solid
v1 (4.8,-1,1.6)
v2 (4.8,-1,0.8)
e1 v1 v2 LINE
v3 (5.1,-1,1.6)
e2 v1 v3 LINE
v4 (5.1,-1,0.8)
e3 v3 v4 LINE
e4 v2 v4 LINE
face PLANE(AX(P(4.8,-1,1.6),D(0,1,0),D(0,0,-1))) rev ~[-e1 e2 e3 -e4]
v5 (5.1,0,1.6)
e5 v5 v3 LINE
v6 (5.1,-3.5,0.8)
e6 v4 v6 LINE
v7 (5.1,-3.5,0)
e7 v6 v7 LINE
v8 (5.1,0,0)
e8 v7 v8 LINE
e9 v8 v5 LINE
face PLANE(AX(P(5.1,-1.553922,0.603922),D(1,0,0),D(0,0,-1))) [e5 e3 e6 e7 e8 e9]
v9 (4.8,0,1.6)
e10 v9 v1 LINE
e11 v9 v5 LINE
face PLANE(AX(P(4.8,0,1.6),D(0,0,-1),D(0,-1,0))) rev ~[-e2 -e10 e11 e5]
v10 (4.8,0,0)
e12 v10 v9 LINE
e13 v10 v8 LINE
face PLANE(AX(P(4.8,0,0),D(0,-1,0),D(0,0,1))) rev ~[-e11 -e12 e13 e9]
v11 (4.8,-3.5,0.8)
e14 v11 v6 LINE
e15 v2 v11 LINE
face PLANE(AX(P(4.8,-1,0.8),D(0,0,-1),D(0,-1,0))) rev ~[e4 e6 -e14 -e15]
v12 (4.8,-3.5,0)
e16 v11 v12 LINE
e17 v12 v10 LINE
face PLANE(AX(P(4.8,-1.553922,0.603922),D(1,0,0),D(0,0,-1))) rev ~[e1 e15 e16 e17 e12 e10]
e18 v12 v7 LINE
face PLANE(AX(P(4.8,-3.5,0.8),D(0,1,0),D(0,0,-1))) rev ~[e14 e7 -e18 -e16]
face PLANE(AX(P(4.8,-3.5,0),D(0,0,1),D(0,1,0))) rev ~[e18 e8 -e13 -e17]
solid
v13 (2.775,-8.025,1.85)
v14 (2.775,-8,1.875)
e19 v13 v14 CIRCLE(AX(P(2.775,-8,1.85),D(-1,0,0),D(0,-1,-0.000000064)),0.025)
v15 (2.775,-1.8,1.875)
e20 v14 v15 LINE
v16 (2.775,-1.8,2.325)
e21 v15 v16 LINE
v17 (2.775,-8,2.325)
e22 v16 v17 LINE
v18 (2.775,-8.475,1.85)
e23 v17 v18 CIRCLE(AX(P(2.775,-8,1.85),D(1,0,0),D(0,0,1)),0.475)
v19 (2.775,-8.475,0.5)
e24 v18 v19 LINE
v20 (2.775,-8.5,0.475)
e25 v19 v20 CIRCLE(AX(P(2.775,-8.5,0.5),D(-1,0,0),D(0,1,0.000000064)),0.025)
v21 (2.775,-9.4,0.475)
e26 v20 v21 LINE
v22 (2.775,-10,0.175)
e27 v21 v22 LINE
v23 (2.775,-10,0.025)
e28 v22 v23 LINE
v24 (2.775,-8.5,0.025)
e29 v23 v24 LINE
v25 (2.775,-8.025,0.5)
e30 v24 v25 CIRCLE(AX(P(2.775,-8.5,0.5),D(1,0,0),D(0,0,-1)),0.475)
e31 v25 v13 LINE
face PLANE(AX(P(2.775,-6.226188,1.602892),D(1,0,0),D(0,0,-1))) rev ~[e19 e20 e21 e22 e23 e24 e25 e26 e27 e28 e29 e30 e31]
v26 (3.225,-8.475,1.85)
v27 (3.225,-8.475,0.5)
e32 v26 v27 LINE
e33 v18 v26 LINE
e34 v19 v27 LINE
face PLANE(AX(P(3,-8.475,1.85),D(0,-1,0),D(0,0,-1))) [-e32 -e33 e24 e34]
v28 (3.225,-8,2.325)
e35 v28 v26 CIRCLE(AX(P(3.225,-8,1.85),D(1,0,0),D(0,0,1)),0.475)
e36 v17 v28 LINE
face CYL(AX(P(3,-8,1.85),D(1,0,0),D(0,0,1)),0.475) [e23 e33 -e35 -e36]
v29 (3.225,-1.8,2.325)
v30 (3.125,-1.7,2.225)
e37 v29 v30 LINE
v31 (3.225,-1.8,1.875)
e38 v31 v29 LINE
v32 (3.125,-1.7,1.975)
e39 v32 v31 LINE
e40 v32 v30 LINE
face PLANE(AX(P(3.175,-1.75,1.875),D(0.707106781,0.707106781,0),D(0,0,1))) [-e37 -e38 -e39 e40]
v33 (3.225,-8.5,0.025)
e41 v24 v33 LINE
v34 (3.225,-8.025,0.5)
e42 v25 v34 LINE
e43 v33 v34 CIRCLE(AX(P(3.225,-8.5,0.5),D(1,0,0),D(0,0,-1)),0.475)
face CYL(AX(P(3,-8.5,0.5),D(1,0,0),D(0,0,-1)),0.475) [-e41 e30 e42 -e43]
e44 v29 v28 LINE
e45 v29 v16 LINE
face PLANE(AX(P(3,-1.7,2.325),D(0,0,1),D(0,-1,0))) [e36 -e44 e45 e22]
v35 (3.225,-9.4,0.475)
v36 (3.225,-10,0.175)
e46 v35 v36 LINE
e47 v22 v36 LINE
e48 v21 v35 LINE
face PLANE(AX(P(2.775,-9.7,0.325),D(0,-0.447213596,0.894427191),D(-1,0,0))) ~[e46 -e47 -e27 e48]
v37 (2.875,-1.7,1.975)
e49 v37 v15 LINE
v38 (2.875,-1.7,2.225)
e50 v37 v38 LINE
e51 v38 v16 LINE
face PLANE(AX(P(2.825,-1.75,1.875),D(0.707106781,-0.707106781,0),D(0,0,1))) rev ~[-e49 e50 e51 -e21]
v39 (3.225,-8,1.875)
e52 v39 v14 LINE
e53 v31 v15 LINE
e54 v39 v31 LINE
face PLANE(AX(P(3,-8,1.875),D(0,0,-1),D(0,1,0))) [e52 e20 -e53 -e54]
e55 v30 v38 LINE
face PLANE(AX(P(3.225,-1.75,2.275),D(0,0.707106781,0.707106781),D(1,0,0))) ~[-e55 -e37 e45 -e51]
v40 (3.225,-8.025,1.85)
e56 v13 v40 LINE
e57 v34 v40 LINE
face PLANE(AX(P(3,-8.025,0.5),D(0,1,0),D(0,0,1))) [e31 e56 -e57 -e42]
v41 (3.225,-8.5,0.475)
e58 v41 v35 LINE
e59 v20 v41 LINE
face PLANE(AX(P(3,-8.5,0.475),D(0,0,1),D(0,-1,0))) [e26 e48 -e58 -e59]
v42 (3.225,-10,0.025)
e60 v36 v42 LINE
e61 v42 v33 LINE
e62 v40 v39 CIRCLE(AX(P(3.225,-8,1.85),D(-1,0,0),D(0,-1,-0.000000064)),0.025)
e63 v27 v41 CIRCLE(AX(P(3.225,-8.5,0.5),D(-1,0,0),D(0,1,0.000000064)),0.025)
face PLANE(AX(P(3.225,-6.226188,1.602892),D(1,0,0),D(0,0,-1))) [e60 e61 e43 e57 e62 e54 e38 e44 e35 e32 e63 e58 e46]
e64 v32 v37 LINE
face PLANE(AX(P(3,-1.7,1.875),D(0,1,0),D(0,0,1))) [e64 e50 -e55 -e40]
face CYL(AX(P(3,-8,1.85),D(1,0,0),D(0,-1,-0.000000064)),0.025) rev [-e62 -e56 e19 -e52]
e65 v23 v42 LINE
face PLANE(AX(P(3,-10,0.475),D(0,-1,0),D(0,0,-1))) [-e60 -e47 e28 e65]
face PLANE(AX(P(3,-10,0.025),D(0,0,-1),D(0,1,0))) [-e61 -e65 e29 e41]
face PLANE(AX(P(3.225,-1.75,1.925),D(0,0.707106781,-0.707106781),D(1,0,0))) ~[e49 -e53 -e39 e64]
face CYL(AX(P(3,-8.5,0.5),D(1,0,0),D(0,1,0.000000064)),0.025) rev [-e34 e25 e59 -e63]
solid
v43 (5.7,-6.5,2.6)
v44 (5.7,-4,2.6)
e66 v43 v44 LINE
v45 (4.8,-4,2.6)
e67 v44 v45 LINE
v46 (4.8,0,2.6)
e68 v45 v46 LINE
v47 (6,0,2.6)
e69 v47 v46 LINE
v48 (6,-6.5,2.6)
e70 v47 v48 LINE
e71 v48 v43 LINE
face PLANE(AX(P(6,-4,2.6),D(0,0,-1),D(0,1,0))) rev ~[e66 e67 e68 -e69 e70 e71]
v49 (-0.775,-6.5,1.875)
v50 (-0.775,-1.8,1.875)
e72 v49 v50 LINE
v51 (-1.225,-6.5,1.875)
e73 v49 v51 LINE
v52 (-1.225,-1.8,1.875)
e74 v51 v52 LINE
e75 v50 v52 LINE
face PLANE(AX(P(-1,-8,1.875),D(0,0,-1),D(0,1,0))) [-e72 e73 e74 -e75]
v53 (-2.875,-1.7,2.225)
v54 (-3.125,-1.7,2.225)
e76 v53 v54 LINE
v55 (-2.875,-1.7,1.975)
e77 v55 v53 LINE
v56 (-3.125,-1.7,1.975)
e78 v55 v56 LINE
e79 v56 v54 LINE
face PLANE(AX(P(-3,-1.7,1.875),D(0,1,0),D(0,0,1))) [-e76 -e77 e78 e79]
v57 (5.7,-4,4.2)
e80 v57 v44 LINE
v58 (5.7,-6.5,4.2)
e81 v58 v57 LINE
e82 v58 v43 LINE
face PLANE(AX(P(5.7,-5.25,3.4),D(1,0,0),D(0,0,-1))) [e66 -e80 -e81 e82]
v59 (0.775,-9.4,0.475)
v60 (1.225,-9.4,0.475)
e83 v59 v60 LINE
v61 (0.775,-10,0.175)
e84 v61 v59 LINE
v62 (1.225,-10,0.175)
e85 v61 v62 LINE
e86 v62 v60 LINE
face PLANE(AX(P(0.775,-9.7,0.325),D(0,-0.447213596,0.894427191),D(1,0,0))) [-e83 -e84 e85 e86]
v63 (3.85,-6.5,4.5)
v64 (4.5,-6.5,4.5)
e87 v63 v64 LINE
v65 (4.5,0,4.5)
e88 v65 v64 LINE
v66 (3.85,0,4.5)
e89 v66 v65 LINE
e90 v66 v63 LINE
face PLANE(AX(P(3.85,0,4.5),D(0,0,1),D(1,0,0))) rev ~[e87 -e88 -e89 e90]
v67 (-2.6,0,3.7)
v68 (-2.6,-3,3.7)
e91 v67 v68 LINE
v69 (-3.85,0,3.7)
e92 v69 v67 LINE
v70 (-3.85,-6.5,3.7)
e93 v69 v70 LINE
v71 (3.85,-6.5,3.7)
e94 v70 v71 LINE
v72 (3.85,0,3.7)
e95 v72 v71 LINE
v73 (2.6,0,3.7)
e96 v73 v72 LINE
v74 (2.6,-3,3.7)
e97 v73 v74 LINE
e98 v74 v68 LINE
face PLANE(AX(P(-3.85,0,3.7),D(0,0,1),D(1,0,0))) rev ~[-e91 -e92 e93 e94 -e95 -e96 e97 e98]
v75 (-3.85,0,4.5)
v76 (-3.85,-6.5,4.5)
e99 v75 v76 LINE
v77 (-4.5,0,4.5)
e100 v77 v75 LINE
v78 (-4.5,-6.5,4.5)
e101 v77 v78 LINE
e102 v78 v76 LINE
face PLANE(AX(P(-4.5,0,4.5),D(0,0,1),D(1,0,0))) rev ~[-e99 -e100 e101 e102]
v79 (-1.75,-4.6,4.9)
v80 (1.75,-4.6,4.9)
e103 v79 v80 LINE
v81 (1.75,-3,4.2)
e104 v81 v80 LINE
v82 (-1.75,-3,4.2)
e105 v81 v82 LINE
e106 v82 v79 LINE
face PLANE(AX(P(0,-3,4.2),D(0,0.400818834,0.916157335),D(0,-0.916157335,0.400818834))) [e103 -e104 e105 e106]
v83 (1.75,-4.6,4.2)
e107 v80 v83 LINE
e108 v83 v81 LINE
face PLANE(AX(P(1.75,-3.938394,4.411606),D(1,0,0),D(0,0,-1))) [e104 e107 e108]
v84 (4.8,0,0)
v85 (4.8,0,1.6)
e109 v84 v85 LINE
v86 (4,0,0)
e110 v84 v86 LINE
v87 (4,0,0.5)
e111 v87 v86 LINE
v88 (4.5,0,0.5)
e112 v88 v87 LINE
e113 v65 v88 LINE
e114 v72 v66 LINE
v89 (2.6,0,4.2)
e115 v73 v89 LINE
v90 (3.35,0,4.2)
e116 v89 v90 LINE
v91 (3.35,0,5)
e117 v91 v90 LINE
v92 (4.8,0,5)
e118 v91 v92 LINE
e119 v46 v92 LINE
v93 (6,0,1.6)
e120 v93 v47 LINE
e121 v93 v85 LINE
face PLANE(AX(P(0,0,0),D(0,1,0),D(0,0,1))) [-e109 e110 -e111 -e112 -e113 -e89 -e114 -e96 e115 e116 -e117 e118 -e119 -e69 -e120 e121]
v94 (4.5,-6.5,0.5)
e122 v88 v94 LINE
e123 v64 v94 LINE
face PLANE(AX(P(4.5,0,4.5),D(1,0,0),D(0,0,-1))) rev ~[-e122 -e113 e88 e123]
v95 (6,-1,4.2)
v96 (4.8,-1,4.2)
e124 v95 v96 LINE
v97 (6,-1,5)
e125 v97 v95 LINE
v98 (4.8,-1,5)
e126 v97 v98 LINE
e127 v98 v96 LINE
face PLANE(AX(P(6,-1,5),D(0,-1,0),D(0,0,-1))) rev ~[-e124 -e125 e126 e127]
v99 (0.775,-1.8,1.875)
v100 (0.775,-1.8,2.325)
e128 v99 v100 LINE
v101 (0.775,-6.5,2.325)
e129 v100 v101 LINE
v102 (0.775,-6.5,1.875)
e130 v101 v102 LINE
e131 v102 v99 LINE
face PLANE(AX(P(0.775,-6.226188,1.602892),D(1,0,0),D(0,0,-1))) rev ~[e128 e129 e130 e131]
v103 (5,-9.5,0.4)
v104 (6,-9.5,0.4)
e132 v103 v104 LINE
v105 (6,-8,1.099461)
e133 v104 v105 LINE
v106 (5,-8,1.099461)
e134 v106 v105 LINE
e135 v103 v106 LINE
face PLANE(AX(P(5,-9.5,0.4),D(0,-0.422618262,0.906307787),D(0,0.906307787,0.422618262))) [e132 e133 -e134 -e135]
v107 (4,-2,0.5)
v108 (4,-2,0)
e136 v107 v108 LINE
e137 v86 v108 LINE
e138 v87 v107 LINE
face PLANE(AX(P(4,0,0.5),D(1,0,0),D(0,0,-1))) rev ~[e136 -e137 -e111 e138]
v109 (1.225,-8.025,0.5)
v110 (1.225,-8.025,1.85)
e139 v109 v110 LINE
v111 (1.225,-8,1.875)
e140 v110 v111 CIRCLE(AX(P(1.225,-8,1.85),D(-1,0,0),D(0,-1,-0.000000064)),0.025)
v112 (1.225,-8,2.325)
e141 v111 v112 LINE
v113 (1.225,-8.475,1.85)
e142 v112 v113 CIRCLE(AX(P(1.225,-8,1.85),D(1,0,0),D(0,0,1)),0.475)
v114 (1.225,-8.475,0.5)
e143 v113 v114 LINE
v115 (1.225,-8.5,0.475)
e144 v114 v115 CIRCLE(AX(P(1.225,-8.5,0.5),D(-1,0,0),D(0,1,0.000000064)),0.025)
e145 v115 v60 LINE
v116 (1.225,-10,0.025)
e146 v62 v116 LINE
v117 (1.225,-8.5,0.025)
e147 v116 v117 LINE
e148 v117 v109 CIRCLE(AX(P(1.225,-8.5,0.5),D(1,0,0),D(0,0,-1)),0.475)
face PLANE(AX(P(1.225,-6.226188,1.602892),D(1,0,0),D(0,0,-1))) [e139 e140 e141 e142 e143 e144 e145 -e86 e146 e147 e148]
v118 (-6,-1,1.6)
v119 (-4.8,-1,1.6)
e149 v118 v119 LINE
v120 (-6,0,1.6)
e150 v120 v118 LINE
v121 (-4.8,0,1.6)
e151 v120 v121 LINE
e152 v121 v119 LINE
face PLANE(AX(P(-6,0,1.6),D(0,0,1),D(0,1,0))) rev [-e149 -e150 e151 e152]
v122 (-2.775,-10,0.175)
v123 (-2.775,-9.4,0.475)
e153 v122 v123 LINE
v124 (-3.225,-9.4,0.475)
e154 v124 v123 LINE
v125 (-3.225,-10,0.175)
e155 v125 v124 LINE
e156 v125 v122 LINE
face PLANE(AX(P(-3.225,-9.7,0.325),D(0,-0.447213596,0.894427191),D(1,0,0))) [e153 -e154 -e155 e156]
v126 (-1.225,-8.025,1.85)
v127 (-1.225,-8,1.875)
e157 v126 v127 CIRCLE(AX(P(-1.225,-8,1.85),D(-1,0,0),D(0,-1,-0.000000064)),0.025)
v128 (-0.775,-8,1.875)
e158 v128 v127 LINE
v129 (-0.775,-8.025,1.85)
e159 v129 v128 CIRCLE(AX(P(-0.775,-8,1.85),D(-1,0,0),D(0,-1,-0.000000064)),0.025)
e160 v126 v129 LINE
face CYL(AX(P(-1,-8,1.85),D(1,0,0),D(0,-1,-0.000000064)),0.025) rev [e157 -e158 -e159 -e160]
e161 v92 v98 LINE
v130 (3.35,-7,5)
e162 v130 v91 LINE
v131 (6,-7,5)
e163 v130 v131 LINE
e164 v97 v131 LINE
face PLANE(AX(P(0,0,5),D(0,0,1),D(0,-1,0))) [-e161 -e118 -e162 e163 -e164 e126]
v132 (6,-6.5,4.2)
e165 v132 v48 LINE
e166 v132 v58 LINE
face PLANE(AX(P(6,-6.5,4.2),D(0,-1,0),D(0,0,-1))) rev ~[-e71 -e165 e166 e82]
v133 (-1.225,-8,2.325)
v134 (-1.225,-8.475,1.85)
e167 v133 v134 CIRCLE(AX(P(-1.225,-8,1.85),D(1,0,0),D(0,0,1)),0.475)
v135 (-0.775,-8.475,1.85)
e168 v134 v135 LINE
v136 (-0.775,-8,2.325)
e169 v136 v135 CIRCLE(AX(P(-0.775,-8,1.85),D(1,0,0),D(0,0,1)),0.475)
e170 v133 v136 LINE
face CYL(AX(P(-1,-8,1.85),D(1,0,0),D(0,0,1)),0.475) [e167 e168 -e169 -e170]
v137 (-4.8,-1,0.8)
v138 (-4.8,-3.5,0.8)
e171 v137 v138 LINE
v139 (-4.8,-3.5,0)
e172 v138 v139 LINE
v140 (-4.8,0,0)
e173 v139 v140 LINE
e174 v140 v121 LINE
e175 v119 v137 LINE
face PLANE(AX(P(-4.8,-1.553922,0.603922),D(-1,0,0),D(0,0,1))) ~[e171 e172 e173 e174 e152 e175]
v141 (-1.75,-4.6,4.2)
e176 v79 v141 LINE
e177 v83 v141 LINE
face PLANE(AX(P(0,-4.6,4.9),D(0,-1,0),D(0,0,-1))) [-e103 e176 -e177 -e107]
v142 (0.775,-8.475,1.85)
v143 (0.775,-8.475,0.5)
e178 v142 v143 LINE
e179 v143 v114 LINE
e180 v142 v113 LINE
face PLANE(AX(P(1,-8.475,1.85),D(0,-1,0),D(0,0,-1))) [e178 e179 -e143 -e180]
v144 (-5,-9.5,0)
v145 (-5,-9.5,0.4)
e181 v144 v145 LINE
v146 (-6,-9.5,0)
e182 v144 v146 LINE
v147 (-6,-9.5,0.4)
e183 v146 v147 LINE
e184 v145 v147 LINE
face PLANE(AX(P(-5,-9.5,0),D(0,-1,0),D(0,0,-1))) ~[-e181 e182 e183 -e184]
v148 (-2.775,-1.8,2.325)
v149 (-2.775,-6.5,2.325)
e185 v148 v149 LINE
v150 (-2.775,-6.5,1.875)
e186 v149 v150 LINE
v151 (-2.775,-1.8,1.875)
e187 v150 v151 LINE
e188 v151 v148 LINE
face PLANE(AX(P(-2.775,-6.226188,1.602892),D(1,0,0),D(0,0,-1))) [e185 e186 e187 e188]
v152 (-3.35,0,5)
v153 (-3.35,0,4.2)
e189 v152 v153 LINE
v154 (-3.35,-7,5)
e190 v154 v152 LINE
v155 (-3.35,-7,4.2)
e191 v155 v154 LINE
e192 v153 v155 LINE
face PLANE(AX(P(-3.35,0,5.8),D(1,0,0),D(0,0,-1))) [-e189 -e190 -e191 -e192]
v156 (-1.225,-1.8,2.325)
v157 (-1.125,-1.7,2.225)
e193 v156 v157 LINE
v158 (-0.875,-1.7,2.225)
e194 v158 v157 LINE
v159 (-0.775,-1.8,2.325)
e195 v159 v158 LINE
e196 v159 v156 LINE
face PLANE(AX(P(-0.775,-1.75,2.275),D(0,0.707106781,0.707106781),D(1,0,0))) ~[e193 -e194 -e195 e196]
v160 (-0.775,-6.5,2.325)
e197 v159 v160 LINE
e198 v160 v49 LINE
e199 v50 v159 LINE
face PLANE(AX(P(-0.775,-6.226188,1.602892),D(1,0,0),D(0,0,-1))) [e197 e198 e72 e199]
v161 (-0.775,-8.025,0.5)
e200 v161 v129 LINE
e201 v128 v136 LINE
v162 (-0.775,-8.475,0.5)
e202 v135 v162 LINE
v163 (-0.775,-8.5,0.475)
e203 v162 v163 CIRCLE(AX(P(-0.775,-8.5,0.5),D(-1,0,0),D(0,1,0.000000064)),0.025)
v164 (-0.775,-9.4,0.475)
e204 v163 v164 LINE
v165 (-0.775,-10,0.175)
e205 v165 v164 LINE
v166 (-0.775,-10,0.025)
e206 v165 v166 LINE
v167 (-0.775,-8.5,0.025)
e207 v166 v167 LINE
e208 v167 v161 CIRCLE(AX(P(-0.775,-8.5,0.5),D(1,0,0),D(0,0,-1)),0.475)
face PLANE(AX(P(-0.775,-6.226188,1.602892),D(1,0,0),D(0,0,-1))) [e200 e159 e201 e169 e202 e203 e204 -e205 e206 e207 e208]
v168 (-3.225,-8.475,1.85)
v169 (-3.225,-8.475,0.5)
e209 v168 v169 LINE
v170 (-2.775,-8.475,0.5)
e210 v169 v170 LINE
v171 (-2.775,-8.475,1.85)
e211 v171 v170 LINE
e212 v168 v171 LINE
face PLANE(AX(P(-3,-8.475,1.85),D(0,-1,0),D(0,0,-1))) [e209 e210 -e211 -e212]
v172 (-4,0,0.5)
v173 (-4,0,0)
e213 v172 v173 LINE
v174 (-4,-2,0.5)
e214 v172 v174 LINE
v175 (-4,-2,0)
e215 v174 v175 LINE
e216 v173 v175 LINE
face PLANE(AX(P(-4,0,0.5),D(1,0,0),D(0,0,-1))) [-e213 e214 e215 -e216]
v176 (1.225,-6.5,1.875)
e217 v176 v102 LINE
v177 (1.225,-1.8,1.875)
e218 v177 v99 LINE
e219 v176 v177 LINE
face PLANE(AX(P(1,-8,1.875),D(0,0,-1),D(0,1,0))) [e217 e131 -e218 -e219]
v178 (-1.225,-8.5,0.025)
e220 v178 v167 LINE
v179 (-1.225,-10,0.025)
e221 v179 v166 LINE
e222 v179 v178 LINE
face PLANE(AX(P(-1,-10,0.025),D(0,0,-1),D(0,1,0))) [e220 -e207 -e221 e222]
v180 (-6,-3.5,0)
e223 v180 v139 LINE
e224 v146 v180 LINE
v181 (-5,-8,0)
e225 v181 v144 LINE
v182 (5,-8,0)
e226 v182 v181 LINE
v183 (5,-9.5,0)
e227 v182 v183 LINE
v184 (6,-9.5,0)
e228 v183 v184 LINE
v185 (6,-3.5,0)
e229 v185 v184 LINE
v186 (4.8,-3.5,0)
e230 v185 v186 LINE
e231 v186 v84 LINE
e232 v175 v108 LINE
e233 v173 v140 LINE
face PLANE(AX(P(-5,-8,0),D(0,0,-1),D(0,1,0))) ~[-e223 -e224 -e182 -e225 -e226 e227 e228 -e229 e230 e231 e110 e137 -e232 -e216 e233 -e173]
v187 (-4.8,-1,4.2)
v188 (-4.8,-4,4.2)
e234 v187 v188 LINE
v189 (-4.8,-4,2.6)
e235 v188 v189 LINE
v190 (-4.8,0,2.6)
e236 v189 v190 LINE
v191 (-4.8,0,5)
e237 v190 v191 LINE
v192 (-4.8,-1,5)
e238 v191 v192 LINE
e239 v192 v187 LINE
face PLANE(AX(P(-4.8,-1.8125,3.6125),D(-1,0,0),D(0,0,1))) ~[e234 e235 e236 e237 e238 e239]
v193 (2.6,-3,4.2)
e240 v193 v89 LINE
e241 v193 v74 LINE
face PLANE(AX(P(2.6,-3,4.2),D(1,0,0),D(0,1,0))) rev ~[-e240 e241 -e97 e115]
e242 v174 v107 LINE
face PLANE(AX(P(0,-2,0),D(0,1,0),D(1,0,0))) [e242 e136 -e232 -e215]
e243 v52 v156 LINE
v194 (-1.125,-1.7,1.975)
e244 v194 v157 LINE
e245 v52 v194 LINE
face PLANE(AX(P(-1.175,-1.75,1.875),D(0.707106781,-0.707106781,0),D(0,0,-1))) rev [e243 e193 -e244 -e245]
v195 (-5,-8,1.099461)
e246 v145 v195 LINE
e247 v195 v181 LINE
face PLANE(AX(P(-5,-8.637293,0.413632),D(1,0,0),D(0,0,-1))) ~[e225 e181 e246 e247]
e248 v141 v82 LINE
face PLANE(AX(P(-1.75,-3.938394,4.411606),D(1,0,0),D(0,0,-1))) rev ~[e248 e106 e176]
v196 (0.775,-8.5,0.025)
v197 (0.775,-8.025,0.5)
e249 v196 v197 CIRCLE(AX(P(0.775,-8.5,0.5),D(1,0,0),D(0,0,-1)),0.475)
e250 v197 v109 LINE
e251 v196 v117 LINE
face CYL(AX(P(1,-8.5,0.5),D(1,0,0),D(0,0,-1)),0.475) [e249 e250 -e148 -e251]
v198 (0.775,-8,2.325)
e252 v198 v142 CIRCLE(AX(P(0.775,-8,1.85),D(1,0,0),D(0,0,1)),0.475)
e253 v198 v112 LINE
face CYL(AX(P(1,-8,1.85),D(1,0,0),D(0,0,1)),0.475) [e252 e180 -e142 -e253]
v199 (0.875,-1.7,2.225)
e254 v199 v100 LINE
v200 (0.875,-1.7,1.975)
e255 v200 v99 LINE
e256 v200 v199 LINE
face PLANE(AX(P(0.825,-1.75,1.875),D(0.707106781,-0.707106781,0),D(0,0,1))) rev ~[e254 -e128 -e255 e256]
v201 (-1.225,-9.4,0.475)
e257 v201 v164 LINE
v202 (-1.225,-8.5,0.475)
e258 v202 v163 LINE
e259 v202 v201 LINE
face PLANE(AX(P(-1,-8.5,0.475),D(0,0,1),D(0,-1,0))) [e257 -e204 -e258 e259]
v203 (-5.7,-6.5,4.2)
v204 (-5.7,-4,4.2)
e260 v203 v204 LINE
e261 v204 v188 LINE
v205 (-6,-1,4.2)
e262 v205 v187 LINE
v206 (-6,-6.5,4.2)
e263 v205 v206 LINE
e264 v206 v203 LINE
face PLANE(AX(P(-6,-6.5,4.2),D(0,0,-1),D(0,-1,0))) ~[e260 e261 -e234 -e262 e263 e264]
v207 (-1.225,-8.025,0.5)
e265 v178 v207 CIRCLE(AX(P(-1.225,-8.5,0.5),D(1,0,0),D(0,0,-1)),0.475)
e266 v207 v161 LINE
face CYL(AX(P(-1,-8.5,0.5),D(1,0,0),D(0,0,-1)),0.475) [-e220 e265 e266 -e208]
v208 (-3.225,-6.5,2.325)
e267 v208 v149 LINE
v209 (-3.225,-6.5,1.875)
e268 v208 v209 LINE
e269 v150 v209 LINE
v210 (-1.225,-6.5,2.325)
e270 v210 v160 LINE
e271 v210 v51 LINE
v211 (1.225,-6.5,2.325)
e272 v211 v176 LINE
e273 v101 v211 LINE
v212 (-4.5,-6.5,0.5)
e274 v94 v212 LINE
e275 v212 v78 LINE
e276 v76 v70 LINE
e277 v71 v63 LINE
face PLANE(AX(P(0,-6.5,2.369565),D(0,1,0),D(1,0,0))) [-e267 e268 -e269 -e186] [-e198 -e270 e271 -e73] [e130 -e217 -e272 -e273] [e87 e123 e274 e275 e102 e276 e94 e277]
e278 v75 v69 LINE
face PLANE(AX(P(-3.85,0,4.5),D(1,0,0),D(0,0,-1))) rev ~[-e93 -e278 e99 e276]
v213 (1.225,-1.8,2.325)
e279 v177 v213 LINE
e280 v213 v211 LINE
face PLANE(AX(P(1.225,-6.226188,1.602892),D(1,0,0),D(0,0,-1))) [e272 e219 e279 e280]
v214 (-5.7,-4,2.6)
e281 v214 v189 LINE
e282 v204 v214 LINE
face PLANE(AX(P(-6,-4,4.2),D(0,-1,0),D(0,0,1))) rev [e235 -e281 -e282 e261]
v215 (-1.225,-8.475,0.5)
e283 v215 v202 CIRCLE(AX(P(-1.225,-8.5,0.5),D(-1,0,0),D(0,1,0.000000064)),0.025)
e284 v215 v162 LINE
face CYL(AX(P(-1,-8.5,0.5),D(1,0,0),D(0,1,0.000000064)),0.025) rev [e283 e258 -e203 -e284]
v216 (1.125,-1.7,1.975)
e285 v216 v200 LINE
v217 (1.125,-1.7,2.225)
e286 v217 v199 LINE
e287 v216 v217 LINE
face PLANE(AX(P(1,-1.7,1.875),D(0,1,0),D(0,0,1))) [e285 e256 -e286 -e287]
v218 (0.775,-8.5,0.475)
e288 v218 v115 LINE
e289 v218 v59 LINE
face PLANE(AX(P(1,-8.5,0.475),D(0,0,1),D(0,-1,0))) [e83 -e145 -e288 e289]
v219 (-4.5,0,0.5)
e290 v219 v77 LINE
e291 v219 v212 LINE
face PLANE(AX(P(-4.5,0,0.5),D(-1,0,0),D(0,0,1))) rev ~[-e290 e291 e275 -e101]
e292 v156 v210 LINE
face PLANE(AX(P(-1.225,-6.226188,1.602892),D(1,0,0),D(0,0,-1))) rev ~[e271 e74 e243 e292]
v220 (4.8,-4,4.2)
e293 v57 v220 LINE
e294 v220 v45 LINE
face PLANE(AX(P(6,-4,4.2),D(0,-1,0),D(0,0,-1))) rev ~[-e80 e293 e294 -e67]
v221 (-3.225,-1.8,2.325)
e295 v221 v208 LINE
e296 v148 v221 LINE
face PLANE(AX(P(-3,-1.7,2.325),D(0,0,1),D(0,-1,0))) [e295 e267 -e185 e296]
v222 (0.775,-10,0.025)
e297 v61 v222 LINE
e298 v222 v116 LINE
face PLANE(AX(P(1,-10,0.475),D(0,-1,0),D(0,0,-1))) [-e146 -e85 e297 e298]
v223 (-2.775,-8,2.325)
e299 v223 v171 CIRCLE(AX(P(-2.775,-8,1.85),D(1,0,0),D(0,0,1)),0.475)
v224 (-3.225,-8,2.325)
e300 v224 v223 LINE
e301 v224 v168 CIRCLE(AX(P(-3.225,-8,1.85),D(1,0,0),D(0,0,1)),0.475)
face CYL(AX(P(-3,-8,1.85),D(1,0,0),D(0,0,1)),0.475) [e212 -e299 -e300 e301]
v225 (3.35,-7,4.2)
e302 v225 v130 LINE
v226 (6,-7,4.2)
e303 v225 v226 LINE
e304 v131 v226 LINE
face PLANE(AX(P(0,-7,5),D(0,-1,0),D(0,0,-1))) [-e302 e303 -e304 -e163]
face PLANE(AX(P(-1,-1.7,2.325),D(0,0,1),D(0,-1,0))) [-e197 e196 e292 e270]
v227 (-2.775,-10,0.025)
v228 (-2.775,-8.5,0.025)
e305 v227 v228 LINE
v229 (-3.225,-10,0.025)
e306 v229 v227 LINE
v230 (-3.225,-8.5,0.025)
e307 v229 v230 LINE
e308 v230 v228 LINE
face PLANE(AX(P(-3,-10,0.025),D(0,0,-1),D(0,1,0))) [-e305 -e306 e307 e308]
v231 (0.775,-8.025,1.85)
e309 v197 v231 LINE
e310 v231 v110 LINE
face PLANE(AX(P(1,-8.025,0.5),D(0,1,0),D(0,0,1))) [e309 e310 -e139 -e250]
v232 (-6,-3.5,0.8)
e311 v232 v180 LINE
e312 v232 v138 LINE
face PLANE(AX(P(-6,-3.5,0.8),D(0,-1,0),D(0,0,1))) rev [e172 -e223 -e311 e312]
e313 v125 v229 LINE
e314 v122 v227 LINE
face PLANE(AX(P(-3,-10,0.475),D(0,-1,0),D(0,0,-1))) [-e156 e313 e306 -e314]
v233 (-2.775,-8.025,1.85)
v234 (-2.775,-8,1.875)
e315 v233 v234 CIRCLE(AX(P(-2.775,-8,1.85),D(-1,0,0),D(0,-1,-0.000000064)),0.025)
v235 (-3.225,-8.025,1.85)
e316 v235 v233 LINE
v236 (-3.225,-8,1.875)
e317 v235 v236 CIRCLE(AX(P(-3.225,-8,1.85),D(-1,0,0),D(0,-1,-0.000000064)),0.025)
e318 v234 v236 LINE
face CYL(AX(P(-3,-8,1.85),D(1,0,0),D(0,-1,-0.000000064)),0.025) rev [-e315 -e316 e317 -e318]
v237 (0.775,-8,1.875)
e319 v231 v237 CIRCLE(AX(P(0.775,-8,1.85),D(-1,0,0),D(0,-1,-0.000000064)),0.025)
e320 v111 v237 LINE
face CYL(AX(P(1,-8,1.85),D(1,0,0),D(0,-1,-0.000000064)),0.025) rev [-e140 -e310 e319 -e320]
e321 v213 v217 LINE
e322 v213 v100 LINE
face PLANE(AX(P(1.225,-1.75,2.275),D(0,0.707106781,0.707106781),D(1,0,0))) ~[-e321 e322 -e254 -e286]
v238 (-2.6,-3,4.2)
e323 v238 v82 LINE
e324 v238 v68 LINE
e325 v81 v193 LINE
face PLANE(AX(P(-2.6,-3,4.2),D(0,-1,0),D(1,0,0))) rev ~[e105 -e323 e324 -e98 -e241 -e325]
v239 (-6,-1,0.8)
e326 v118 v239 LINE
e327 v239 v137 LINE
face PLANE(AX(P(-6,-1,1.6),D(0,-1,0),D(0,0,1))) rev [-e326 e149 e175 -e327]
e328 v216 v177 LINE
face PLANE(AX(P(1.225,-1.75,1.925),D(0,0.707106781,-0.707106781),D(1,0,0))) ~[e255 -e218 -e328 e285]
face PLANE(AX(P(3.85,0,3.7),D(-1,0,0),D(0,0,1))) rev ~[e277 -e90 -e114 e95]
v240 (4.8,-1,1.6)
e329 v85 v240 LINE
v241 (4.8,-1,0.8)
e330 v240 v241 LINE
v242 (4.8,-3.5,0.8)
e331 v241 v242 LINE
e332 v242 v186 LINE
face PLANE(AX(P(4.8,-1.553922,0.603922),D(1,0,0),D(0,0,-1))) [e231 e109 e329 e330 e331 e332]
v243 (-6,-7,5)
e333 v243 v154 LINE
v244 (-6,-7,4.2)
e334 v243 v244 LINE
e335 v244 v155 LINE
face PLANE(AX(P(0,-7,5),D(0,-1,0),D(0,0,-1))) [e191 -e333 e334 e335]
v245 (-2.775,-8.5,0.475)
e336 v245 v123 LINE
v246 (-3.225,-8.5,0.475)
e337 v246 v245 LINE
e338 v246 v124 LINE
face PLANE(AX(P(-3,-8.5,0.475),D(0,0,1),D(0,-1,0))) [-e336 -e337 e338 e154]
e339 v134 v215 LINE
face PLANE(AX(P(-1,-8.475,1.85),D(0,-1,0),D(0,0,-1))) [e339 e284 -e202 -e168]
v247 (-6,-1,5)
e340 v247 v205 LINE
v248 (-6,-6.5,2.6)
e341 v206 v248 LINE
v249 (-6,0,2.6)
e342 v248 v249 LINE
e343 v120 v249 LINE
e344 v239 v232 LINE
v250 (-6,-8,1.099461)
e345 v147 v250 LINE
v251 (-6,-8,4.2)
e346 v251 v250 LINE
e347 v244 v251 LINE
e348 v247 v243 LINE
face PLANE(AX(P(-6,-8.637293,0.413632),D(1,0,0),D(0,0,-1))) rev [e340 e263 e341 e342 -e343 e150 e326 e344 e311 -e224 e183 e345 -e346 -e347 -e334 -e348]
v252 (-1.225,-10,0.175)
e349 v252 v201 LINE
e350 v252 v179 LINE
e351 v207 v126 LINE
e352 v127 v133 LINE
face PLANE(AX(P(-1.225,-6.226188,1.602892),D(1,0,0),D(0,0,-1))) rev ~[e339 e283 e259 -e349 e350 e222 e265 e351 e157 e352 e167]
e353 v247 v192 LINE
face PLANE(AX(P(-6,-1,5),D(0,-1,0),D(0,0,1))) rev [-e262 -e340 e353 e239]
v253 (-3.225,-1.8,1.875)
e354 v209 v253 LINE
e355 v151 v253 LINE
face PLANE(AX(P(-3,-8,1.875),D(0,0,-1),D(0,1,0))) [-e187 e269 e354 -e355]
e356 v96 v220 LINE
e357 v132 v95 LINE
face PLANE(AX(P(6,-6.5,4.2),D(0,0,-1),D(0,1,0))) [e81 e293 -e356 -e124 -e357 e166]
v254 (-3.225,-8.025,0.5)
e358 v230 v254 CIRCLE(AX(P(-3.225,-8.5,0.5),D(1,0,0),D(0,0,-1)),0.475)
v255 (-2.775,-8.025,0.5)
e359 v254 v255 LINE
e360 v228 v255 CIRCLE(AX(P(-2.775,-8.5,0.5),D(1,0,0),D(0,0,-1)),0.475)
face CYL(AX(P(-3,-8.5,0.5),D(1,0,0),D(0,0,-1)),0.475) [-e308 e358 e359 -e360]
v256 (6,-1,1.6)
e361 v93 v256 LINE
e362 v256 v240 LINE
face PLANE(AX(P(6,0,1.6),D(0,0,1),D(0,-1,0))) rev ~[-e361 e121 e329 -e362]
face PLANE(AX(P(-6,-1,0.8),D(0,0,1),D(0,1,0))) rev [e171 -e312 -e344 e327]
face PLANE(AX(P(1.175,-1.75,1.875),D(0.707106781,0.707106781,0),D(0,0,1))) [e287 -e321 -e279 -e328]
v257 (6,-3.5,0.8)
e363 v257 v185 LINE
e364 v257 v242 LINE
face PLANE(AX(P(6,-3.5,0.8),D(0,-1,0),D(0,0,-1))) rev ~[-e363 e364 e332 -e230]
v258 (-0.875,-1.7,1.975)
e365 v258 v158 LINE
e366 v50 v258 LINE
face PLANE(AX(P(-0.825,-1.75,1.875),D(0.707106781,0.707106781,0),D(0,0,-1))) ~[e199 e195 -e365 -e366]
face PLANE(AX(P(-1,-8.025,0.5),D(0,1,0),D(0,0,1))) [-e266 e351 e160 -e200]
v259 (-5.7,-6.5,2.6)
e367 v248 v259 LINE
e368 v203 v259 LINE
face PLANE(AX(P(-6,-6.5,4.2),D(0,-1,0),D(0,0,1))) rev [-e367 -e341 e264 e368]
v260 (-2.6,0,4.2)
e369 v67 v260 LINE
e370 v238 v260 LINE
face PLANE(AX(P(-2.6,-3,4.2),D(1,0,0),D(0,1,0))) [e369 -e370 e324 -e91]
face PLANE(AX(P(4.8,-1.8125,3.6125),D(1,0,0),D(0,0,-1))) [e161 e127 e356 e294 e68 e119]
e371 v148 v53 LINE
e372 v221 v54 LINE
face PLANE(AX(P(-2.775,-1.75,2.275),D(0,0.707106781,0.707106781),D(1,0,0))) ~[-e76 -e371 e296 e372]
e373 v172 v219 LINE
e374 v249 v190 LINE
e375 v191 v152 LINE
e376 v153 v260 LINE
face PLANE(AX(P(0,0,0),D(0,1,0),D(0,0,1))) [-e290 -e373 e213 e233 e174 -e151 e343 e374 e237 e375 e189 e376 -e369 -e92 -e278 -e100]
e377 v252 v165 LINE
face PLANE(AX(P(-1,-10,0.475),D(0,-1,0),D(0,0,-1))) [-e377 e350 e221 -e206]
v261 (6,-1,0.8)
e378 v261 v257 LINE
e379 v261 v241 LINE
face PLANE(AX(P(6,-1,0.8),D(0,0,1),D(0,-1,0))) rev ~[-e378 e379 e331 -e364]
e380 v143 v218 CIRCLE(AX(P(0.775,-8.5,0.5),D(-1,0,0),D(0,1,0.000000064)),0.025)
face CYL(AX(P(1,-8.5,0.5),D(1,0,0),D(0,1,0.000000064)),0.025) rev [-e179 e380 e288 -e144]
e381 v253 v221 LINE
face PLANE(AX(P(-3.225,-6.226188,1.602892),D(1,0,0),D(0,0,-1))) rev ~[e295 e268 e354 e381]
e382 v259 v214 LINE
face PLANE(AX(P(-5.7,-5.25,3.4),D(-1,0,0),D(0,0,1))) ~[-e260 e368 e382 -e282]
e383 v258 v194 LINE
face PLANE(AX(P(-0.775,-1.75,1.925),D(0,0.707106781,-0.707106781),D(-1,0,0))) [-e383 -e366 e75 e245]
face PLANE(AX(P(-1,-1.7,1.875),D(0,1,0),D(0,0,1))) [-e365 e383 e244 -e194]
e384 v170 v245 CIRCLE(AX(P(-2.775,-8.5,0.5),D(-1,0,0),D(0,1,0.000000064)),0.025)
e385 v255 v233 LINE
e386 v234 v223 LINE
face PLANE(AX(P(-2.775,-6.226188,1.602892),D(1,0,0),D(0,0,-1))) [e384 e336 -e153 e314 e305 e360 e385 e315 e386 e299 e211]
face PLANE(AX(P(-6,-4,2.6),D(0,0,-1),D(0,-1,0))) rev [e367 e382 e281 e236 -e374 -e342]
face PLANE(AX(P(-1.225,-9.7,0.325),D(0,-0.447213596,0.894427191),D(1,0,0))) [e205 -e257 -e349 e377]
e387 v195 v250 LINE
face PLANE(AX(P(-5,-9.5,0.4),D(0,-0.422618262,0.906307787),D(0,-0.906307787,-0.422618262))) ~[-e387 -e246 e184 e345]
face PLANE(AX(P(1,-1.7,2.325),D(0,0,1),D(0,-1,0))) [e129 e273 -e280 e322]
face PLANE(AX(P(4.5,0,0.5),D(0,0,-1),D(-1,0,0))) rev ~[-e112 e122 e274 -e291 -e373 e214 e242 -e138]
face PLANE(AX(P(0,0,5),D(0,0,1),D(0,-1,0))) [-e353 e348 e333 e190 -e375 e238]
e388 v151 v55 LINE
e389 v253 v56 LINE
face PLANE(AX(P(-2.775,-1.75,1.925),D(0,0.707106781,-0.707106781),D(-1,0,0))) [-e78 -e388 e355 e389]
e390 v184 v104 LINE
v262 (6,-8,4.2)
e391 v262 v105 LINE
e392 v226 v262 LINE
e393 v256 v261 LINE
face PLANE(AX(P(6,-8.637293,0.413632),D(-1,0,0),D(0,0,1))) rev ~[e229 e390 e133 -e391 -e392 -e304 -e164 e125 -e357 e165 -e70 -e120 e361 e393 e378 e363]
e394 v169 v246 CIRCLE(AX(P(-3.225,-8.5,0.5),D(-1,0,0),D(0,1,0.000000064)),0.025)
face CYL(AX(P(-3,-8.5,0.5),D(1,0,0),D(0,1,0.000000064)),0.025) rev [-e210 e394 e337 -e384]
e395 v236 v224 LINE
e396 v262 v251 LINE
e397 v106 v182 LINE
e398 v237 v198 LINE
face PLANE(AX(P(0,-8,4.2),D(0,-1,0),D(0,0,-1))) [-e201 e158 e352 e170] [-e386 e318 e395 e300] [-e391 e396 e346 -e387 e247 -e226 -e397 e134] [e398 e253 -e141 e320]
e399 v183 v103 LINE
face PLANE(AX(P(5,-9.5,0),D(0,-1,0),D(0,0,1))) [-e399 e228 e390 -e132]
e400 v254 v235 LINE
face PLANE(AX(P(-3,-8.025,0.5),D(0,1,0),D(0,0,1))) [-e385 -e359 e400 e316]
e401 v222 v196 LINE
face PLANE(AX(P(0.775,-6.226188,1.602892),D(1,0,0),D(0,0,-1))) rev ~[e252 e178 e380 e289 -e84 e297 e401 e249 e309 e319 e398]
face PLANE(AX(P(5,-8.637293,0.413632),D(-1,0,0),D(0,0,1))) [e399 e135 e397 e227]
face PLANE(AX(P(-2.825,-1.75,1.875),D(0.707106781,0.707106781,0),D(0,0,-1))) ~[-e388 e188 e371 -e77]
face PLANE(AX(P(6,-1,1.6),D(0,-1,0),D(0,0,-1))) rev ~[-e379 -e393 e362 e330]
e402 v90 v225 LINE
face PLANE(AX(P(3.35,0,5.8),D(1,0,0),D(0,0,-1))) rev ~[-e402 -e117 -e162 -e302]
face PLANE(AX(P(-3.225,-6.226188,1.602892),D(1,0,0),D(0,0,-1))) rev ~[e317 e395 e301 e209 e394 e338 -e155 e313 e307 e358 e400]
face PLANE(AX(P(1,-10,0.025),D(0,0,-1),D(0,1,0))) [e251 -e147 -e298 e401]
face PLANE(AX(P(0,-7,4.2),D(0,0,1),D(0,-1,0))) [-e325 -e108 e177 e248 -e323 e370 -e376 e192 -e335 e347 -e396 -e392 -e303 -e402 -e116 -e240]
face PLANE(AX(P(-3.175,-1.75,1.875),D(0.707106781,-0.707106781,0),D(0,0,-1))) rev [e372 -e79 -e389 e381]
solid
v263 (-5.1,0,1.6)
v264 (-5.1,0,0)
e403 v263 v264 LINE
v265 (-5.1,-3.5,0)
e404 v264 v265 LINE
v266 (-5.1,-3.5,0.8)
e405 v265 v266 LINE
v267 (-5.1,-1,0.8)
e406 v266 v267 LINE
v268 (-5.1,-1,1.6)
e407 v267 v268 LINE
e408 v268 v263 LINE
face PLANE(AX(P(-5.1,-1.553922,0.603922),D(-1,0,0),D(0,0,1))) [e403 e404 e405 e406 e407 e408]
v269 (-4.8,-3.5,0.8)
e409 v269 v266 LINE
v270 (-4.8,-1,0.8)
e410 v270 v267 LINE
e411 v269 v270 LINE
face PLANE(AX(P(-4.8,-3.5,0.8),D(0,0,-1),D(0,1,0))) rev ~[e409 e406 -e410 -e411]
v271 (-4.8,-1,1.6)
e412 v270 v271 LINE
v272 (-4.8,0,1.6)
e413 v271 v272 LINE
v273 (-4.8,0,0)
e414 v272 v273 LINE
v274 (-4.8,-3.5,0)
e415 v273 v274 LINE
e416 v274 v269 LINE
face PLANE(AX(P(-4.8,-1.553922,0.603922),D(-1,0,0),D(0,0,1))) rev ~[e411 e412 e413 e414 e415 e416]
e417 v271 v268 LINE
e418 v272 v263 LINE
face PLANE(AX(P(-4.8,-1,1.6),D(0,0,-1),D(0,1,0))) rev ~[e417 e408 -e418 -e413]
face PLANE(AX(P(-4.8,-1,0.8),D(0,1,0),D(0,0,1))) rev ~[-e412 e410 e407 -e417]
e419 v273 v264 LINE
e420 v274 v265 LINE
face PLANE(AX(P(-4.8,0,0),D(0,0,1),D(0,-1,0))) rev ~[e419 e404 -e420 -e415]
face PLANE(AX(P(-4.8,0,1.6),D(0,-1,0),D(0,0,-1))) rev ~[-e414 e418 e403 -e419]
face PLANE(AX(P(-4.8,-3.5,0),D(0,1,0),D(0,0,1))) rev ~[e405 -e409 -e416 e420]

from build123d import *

# Parameters (mm, degrees)
BOSS_EXTRU_1_DEPTH                       = 6
BOSS_EXTRU_2_START                       = 5
BOSS_EXTRU_2_DEPTH                       = 1
ESQUISSE3_W                              = 6.7
ESQUISSE3_H                              = 1.6
ENL_V_MAT_EXTRU_1_DEPTH                  = 10.5
ENL_V_MAT_EXTRU_2_DEPTH                  = 6.5
ENL_V_MAT_EXTRU_4_DEPTH                  = 1.2
ESQUISSE8_W                              = 1.6
ESQUISSE8_H                              = 2.5
ENL_V_MAT_EXTRU_5_DEPTH                  = 0.3
ESQUISSE9_W                              = 5.6
ESQUISSE9_H                              = 2
ENL_V_MAT_EXTRU_6_DEPTH                  = 1.5
ENL_V_MAT_EXTRU_7_REACH                  = 6.2
ESQUISSE10_W                             = 5.2
ESQUISSE10_H                             = 6
BOSS_EXTRU_3_DEPTH                       = 1.75
ESQUISSE5_W                              = 8
ESQUISSE5_H                              = 1
ENL_V_MAT_EXTRU_3_DEPTH                  = 2
EXTRU_MINCE1_START                       = 3
EXTRU_MINCE1_DEPTH                       = 0.225
CHANFREIN1_SIZE                          = 0.1
CHANFREIN2_SIZE                          = 0.6
CHANFREIN2_SIZE2                         = 0.3
R_P_TITION_LIN_AIRE1_COUNT               = 4
R_P_TITION_LIN_AIRE1_PITCH               = 2
CHANFREIN1_OF_R_P_TITION_LIN_AIRE1_SIZE  = 0.1
CHANFREIN2_OF_R_P_TITION_LIN_AIRE1_SIZE2 = 0.6
CHANFREIN2_OF_R_P_TITION_LIN_AIRE1_SIZE  = 0.3
BOSS_EXTRU_4_DEPTH                       = 0.3
BOSS_EXTRU_5_DEPTH                       = 0.3


with BuildPart() as part:
    # Esquisse1 → Boss.-Extru.1 (new body, symmetric)
    with BuildSketch(Plane(origin=(0, 0, 0), x_dir=(0, 0, -1), z_dir=(1, 0, 0))):
        Polygon((0, 0), (-5, 0), (-5, -7), (-4.2, -7), (-4.2, -8), (0, -8), align=None)
    extrude(amount=BOSS_EXTRU_1_DEPTH, both=True)

    # Esquisse2 → Boss.-Extru.2 (add)
    with BuildSketch(Plane(origin=(0, 0, 0), x_dir=(0, 0, -1), z_dir=(1, 0, 0)).offset(BOSS_EXTRU_2_START)):
        Polygon((0, -8), (0, -9.5), (-0.4, -9.5), (-1.099461487, -8), align=None)
    boss_extru_2 = extrude(amount=BOSS_EXTRU_2_DEPTH)

    # Esquisse3 → Enlèv. mat.-Extru.1 (cut, through all)
    with BuildSketch(Plane(origin=(0, 0, 0), x_dir=(1, 0, 0), z_dir=(0, 1, 0))):
        with Locations((0, -5)):
            Rectangle(ESQUISSE3_W, ESQUISSE3_H)
    extrude(amount=-ENL_V_MAT_EXTRU_1_DEPTH, mode=Mode.SUBTRACT)

    # Esquisse4 → Enlèv. mat.-Extru.2 (cut)
    with BuildSketch(Plane(origin=(0, 0, 0), x_dir=(1, 0, 0), z_dir=(0, 1, 0))):
        Polygon((-4.5, -4.5), (-3.85, -4.5), (-3.85, -3.7), (3.85, -3.7), (3.85, -4.5), (4.5, -4.5), (4.5, -0.5), (-4.5, -0.5), align=None)
    extrude(amount=-ENL_V_MAT_EXTRU_2_DEPTH, mode=Mode.SUBTRACT)

    # Esquisse7 → Enlèv. mat.-Extru.4 (cut)
    with BuildSketch(Plane(origin=(6, 0, 0), x_dir=(0, 0, -1), z_dir=(1, 0, 0))):
        Polygon((-5, -1), (-4.2, -1), (-4.2, -4), (-2.6, -4), (-2.6, 0), (-5, 0), align=None)
        Polygon((0, 0), (-1.6, 0), (-1.6, -1), (-0.8, -1), (-0.8, -3.5), (0, -3.5), align=None)
    enl_v_mat_extru_4 = extrude(amount=-ENL_V_MAT_EXTRU_4_DEPTH, mode=Mode.SUBTRACT)

    # Esquisse8 → Enlèv. mat.-Extru.5 (cut)
    with BuildSketch(Plane(origin=(6, 0, 0), x_dir=(0, 0, -1), z_dir=(1, 0, 0))):
        with Locations((-3.4, -5.25)):
            Rectangle(ESQUISSE8_W, ESQUISSE8_H)
    enl_v_mat_extru_5 = extrude(amount=-ENL_V_MAT_EXTRU_5_DEPTH, mode=Mode.SUBTRACT)

    # Esquisse9 → Enlèv. mat.-Extru.6 (cut, through all)
    with BuildSketch(Plane.XY.offset(0.5)):
        Rectangle(ESQUISSE9_W, ESQUISSE9_H)
    extrude(amount=-ENL_V_MAT_EXTRU_6_DEPTH, mode=Mode.SUBTRACT)

    # Esquisse10 → Enlèv. mat.-Extru.7 (cut, up to next)
    with BuildSketch(Plane.XY.offset(4.2), mode=Mode.PRIVATE) as enl_v_mat_extru_7_sk1:
        Rectangle(ESQUISSE10_W, ESQUISSE10_H)
    enl_v_mat_extru_7_tool1 = extrude(enl_v_mat_extru_7_sk1.sketch, amount=-ENL_V_MAT_EXTRU_7_REACH, mode=Mode.PRIVATE) & part.part
    add(enl_v_mat_extru_7_tool1.solids().sort_by_distance((0, 0, 4.2))[0], mode=Mode.SUBTRACT)

    # Esquisse12 → Boss.-Extru.3 (add, symmetric)
    with BuildSketch(Plane(origin=(0, 0, 0), x_dir=(0, 0, -1), z_dir=(1, 0, 0))):
        Polygon((-4.2, -3), (-4.9, -4.6), (-4.2, -4.6), align=None)
    extrude(amount=BOSS_EXTRU_3_DEPTH, both=True)

    # Esquisse5 → Enlèv. mat.-Extru.3 (cut)
    with BuildSketch(Plane(origin=(0, 0, 0), x_dir=(1, 0, 0), z_dir=(0, 1, 0))):
        Rectangle(ESQUISSE5_W, ESQUISSE5_H)
    extrude(amount=-ENL_V_MAT_EXTRU_3_DEPTH, mode=Mode.SUBTRACT)


with BuildPart() as body_2:
    # Esquisse13 → Extru.-Mince1 (new body, symmetric)
    with BuildSketch(Plane(origin=(0, 0, 0), x_dir=(0, 0, -1), z_dir=(1, 0, 0)).offset(EXTRU_MINCE1_START)):
        with BuildLine():
            Line((-2.325, -1.7), (-2.325, -8))
            ThreePointArc((-2.325, -8), (-2.185875721, -8.335875721), (-1.85, -8.475))
            Line((-1.85, -8.475), (-0.5, -8.475))
            ThreePointArc((-0.5, -8.475), (-0.48232233, -8.48232233), (-0.475, -8.5))
            Line((-0.475, -8.5), (-0.475, -10))
            Line((-0.475, -10), (-0.025, -10))
            Line((-0.025, -10), (-0.025, -8.5))
            ThreePointArc((-0.025, -8.5), (-0.164124279, -8.164124279), (-0.5, -8.025))
            Line((-0.5, -8.025), (-1.85, -8.025))
            ThreePointArc((-1.85, -8.025), (-1.86767767, -8.01767767), (-1.875, -8))
            Line((-1.875, -8), (-1.875, -1.7))
            Line((-1.875, -1.7), (-2.325, -1.7))
        make_face()
    extru_mince1 = extrude(amount=EXTRU_MINCE1_DEPTH, both=True)

    # Chanfrein1
    chanfrein1_edges = [body_2.edges().sort_by_distance(p)[0] for p in [
        (2.775, -1.7, 2.1),
        (3, -1.7, 2.325),
        (3, -1.7, 1.875),
        (3.225, -1.7, 2.1),
    ]]
    chamfer(chanfrein1_edges, length=CHANFREIN1_SIZE)

    # Chanfrein2
    chanfrein2_edges = [body_2.edges().sort_by_distance(p)[0] for p in [
        (3, -10, 0.475),
    ]]
    chanfrein2_side = [body_2.faces().sort_by_distance(p)[0] for p in [
        (3, -9.25, 0.475),
    ]]
    chamfer(chanfrein2_edges, length=CHANFREIN2_SIZE, length2=CHANFREIN2_SIZE2, reference=chanfrein2_side[0])


with BuildPart() as part_1:
    add(part.part)

    # Répétition linéaire1: Extru.-Mince1 ×4
    with Locations(*[(-i * R_P_TITION_LIN_AIRE1_PITCH, 0, 0) for i in range(1, R_P_TITION_LIN_AIRE1_COUNT)]):
        add(extru_mince1)

    # Chanfrein1 of Répétition linéaire1
    chanfrein1_of_r_p_tition_lin_aire1_edges = [part_1.edges().sort_by_distance(p)[0] for p in [
        (0.775, -1.7, 2.1),
        (1, -1.7, 2.325),
        (1, -1.7, 1.875),
        (1.225, -1.7, 2.1),
        (-1.225, -1.7, 2.1),
        (-1, -1.7, 2.325),
        (-1, -1.7, 1.875),
        (-0.775, -1.7, 2.1),
        (-3.225, -1.7, 2.1),
        (-3, -1.7, 2.325),
        (-3, -1.7, 1.875),
        (-2.775, -1.7, 2.1),
    ]]
    chamfer(chanfrein1_of_r_p_tition_lin_aire1_edges, length=CHANFREIN1_OF_R_P_TITION_LIN_AIRE1_SIZE)

    # Chanfrein2 of Répétition linéaire1
    chanfrein2_of_r_p_tition_lin_aire1_edges = [part_1.edges().sort_by_distance(p)[0] for p in [
        (1, -10, 0.475),
        (-1, -10, 0.475),
        (-3, -10, 0.475),
    ]]
    chamfer(chanfrein2_of_r_p_tition_lin_aire1_edges, length=CHANFREIN2_OF_R_P_TITION_LIN_AIRE1_SIZE, length2=CHANFREIN2_OF_R_P_TITION_LIN_AIRE1_SIZE2)

    # Symétrie2: Boss.-Extru.2, Enlèv. mat.-Extru.4, Enlèv. mat.-Extru.5 across plane
    add(boss_extru_2.mirror(Plane(origin=(0, 0, 0), x_dir=(0, 0, 1), z_dir=(1, 0, 0))))
    add(enl_v_mat_extru_4.mirror(Plane(origin=(0, 0, 0), x_dir=(0, 0, 1), z_dir=(1, 0, 0))), mode=Mode.SUBTRACT)
    add(enl_v_mat_extru_5.mirror(Plane(origin=(0, 0, 0), x_dir=(0, 0, 1), z_dir=(1, 0, 0))), mode=Mode.SUBTRACT)


with BuildPart() as body_3:
    # Esquisse14 → Boss.-Extru.4 (new body)
    with BuildSketch(Plane(origin=(4.8, 0, 0), x_dir=(0, 0, -1), z_dir=(1, 0, 0))):
        Polygon((0, -3.5), (0, 0), (-1.6, 0), (-1.6, -1), (-0.8, -1), (-0.8, -3.5), align=None)
    extrude(amount=BOSS_EXTRU_4_DEPTH)


with BuildPart() as body_4:
    # Esquisse15 → Boss.-Extru.5 (new body)
    with BuildSketch(Plane.ZY.offset(4.8)):
        Polygon((0, 0), (0, -3.5), (0.8, -3.5), (0.8, -1), (1.6, -1), (1.6, 0), align=None)
    extrude(amount=BOSS_EXTRU_5_DEPTH)


solid = Compound([body_2.part, part_1.part, body_3.part, body_4.part])
